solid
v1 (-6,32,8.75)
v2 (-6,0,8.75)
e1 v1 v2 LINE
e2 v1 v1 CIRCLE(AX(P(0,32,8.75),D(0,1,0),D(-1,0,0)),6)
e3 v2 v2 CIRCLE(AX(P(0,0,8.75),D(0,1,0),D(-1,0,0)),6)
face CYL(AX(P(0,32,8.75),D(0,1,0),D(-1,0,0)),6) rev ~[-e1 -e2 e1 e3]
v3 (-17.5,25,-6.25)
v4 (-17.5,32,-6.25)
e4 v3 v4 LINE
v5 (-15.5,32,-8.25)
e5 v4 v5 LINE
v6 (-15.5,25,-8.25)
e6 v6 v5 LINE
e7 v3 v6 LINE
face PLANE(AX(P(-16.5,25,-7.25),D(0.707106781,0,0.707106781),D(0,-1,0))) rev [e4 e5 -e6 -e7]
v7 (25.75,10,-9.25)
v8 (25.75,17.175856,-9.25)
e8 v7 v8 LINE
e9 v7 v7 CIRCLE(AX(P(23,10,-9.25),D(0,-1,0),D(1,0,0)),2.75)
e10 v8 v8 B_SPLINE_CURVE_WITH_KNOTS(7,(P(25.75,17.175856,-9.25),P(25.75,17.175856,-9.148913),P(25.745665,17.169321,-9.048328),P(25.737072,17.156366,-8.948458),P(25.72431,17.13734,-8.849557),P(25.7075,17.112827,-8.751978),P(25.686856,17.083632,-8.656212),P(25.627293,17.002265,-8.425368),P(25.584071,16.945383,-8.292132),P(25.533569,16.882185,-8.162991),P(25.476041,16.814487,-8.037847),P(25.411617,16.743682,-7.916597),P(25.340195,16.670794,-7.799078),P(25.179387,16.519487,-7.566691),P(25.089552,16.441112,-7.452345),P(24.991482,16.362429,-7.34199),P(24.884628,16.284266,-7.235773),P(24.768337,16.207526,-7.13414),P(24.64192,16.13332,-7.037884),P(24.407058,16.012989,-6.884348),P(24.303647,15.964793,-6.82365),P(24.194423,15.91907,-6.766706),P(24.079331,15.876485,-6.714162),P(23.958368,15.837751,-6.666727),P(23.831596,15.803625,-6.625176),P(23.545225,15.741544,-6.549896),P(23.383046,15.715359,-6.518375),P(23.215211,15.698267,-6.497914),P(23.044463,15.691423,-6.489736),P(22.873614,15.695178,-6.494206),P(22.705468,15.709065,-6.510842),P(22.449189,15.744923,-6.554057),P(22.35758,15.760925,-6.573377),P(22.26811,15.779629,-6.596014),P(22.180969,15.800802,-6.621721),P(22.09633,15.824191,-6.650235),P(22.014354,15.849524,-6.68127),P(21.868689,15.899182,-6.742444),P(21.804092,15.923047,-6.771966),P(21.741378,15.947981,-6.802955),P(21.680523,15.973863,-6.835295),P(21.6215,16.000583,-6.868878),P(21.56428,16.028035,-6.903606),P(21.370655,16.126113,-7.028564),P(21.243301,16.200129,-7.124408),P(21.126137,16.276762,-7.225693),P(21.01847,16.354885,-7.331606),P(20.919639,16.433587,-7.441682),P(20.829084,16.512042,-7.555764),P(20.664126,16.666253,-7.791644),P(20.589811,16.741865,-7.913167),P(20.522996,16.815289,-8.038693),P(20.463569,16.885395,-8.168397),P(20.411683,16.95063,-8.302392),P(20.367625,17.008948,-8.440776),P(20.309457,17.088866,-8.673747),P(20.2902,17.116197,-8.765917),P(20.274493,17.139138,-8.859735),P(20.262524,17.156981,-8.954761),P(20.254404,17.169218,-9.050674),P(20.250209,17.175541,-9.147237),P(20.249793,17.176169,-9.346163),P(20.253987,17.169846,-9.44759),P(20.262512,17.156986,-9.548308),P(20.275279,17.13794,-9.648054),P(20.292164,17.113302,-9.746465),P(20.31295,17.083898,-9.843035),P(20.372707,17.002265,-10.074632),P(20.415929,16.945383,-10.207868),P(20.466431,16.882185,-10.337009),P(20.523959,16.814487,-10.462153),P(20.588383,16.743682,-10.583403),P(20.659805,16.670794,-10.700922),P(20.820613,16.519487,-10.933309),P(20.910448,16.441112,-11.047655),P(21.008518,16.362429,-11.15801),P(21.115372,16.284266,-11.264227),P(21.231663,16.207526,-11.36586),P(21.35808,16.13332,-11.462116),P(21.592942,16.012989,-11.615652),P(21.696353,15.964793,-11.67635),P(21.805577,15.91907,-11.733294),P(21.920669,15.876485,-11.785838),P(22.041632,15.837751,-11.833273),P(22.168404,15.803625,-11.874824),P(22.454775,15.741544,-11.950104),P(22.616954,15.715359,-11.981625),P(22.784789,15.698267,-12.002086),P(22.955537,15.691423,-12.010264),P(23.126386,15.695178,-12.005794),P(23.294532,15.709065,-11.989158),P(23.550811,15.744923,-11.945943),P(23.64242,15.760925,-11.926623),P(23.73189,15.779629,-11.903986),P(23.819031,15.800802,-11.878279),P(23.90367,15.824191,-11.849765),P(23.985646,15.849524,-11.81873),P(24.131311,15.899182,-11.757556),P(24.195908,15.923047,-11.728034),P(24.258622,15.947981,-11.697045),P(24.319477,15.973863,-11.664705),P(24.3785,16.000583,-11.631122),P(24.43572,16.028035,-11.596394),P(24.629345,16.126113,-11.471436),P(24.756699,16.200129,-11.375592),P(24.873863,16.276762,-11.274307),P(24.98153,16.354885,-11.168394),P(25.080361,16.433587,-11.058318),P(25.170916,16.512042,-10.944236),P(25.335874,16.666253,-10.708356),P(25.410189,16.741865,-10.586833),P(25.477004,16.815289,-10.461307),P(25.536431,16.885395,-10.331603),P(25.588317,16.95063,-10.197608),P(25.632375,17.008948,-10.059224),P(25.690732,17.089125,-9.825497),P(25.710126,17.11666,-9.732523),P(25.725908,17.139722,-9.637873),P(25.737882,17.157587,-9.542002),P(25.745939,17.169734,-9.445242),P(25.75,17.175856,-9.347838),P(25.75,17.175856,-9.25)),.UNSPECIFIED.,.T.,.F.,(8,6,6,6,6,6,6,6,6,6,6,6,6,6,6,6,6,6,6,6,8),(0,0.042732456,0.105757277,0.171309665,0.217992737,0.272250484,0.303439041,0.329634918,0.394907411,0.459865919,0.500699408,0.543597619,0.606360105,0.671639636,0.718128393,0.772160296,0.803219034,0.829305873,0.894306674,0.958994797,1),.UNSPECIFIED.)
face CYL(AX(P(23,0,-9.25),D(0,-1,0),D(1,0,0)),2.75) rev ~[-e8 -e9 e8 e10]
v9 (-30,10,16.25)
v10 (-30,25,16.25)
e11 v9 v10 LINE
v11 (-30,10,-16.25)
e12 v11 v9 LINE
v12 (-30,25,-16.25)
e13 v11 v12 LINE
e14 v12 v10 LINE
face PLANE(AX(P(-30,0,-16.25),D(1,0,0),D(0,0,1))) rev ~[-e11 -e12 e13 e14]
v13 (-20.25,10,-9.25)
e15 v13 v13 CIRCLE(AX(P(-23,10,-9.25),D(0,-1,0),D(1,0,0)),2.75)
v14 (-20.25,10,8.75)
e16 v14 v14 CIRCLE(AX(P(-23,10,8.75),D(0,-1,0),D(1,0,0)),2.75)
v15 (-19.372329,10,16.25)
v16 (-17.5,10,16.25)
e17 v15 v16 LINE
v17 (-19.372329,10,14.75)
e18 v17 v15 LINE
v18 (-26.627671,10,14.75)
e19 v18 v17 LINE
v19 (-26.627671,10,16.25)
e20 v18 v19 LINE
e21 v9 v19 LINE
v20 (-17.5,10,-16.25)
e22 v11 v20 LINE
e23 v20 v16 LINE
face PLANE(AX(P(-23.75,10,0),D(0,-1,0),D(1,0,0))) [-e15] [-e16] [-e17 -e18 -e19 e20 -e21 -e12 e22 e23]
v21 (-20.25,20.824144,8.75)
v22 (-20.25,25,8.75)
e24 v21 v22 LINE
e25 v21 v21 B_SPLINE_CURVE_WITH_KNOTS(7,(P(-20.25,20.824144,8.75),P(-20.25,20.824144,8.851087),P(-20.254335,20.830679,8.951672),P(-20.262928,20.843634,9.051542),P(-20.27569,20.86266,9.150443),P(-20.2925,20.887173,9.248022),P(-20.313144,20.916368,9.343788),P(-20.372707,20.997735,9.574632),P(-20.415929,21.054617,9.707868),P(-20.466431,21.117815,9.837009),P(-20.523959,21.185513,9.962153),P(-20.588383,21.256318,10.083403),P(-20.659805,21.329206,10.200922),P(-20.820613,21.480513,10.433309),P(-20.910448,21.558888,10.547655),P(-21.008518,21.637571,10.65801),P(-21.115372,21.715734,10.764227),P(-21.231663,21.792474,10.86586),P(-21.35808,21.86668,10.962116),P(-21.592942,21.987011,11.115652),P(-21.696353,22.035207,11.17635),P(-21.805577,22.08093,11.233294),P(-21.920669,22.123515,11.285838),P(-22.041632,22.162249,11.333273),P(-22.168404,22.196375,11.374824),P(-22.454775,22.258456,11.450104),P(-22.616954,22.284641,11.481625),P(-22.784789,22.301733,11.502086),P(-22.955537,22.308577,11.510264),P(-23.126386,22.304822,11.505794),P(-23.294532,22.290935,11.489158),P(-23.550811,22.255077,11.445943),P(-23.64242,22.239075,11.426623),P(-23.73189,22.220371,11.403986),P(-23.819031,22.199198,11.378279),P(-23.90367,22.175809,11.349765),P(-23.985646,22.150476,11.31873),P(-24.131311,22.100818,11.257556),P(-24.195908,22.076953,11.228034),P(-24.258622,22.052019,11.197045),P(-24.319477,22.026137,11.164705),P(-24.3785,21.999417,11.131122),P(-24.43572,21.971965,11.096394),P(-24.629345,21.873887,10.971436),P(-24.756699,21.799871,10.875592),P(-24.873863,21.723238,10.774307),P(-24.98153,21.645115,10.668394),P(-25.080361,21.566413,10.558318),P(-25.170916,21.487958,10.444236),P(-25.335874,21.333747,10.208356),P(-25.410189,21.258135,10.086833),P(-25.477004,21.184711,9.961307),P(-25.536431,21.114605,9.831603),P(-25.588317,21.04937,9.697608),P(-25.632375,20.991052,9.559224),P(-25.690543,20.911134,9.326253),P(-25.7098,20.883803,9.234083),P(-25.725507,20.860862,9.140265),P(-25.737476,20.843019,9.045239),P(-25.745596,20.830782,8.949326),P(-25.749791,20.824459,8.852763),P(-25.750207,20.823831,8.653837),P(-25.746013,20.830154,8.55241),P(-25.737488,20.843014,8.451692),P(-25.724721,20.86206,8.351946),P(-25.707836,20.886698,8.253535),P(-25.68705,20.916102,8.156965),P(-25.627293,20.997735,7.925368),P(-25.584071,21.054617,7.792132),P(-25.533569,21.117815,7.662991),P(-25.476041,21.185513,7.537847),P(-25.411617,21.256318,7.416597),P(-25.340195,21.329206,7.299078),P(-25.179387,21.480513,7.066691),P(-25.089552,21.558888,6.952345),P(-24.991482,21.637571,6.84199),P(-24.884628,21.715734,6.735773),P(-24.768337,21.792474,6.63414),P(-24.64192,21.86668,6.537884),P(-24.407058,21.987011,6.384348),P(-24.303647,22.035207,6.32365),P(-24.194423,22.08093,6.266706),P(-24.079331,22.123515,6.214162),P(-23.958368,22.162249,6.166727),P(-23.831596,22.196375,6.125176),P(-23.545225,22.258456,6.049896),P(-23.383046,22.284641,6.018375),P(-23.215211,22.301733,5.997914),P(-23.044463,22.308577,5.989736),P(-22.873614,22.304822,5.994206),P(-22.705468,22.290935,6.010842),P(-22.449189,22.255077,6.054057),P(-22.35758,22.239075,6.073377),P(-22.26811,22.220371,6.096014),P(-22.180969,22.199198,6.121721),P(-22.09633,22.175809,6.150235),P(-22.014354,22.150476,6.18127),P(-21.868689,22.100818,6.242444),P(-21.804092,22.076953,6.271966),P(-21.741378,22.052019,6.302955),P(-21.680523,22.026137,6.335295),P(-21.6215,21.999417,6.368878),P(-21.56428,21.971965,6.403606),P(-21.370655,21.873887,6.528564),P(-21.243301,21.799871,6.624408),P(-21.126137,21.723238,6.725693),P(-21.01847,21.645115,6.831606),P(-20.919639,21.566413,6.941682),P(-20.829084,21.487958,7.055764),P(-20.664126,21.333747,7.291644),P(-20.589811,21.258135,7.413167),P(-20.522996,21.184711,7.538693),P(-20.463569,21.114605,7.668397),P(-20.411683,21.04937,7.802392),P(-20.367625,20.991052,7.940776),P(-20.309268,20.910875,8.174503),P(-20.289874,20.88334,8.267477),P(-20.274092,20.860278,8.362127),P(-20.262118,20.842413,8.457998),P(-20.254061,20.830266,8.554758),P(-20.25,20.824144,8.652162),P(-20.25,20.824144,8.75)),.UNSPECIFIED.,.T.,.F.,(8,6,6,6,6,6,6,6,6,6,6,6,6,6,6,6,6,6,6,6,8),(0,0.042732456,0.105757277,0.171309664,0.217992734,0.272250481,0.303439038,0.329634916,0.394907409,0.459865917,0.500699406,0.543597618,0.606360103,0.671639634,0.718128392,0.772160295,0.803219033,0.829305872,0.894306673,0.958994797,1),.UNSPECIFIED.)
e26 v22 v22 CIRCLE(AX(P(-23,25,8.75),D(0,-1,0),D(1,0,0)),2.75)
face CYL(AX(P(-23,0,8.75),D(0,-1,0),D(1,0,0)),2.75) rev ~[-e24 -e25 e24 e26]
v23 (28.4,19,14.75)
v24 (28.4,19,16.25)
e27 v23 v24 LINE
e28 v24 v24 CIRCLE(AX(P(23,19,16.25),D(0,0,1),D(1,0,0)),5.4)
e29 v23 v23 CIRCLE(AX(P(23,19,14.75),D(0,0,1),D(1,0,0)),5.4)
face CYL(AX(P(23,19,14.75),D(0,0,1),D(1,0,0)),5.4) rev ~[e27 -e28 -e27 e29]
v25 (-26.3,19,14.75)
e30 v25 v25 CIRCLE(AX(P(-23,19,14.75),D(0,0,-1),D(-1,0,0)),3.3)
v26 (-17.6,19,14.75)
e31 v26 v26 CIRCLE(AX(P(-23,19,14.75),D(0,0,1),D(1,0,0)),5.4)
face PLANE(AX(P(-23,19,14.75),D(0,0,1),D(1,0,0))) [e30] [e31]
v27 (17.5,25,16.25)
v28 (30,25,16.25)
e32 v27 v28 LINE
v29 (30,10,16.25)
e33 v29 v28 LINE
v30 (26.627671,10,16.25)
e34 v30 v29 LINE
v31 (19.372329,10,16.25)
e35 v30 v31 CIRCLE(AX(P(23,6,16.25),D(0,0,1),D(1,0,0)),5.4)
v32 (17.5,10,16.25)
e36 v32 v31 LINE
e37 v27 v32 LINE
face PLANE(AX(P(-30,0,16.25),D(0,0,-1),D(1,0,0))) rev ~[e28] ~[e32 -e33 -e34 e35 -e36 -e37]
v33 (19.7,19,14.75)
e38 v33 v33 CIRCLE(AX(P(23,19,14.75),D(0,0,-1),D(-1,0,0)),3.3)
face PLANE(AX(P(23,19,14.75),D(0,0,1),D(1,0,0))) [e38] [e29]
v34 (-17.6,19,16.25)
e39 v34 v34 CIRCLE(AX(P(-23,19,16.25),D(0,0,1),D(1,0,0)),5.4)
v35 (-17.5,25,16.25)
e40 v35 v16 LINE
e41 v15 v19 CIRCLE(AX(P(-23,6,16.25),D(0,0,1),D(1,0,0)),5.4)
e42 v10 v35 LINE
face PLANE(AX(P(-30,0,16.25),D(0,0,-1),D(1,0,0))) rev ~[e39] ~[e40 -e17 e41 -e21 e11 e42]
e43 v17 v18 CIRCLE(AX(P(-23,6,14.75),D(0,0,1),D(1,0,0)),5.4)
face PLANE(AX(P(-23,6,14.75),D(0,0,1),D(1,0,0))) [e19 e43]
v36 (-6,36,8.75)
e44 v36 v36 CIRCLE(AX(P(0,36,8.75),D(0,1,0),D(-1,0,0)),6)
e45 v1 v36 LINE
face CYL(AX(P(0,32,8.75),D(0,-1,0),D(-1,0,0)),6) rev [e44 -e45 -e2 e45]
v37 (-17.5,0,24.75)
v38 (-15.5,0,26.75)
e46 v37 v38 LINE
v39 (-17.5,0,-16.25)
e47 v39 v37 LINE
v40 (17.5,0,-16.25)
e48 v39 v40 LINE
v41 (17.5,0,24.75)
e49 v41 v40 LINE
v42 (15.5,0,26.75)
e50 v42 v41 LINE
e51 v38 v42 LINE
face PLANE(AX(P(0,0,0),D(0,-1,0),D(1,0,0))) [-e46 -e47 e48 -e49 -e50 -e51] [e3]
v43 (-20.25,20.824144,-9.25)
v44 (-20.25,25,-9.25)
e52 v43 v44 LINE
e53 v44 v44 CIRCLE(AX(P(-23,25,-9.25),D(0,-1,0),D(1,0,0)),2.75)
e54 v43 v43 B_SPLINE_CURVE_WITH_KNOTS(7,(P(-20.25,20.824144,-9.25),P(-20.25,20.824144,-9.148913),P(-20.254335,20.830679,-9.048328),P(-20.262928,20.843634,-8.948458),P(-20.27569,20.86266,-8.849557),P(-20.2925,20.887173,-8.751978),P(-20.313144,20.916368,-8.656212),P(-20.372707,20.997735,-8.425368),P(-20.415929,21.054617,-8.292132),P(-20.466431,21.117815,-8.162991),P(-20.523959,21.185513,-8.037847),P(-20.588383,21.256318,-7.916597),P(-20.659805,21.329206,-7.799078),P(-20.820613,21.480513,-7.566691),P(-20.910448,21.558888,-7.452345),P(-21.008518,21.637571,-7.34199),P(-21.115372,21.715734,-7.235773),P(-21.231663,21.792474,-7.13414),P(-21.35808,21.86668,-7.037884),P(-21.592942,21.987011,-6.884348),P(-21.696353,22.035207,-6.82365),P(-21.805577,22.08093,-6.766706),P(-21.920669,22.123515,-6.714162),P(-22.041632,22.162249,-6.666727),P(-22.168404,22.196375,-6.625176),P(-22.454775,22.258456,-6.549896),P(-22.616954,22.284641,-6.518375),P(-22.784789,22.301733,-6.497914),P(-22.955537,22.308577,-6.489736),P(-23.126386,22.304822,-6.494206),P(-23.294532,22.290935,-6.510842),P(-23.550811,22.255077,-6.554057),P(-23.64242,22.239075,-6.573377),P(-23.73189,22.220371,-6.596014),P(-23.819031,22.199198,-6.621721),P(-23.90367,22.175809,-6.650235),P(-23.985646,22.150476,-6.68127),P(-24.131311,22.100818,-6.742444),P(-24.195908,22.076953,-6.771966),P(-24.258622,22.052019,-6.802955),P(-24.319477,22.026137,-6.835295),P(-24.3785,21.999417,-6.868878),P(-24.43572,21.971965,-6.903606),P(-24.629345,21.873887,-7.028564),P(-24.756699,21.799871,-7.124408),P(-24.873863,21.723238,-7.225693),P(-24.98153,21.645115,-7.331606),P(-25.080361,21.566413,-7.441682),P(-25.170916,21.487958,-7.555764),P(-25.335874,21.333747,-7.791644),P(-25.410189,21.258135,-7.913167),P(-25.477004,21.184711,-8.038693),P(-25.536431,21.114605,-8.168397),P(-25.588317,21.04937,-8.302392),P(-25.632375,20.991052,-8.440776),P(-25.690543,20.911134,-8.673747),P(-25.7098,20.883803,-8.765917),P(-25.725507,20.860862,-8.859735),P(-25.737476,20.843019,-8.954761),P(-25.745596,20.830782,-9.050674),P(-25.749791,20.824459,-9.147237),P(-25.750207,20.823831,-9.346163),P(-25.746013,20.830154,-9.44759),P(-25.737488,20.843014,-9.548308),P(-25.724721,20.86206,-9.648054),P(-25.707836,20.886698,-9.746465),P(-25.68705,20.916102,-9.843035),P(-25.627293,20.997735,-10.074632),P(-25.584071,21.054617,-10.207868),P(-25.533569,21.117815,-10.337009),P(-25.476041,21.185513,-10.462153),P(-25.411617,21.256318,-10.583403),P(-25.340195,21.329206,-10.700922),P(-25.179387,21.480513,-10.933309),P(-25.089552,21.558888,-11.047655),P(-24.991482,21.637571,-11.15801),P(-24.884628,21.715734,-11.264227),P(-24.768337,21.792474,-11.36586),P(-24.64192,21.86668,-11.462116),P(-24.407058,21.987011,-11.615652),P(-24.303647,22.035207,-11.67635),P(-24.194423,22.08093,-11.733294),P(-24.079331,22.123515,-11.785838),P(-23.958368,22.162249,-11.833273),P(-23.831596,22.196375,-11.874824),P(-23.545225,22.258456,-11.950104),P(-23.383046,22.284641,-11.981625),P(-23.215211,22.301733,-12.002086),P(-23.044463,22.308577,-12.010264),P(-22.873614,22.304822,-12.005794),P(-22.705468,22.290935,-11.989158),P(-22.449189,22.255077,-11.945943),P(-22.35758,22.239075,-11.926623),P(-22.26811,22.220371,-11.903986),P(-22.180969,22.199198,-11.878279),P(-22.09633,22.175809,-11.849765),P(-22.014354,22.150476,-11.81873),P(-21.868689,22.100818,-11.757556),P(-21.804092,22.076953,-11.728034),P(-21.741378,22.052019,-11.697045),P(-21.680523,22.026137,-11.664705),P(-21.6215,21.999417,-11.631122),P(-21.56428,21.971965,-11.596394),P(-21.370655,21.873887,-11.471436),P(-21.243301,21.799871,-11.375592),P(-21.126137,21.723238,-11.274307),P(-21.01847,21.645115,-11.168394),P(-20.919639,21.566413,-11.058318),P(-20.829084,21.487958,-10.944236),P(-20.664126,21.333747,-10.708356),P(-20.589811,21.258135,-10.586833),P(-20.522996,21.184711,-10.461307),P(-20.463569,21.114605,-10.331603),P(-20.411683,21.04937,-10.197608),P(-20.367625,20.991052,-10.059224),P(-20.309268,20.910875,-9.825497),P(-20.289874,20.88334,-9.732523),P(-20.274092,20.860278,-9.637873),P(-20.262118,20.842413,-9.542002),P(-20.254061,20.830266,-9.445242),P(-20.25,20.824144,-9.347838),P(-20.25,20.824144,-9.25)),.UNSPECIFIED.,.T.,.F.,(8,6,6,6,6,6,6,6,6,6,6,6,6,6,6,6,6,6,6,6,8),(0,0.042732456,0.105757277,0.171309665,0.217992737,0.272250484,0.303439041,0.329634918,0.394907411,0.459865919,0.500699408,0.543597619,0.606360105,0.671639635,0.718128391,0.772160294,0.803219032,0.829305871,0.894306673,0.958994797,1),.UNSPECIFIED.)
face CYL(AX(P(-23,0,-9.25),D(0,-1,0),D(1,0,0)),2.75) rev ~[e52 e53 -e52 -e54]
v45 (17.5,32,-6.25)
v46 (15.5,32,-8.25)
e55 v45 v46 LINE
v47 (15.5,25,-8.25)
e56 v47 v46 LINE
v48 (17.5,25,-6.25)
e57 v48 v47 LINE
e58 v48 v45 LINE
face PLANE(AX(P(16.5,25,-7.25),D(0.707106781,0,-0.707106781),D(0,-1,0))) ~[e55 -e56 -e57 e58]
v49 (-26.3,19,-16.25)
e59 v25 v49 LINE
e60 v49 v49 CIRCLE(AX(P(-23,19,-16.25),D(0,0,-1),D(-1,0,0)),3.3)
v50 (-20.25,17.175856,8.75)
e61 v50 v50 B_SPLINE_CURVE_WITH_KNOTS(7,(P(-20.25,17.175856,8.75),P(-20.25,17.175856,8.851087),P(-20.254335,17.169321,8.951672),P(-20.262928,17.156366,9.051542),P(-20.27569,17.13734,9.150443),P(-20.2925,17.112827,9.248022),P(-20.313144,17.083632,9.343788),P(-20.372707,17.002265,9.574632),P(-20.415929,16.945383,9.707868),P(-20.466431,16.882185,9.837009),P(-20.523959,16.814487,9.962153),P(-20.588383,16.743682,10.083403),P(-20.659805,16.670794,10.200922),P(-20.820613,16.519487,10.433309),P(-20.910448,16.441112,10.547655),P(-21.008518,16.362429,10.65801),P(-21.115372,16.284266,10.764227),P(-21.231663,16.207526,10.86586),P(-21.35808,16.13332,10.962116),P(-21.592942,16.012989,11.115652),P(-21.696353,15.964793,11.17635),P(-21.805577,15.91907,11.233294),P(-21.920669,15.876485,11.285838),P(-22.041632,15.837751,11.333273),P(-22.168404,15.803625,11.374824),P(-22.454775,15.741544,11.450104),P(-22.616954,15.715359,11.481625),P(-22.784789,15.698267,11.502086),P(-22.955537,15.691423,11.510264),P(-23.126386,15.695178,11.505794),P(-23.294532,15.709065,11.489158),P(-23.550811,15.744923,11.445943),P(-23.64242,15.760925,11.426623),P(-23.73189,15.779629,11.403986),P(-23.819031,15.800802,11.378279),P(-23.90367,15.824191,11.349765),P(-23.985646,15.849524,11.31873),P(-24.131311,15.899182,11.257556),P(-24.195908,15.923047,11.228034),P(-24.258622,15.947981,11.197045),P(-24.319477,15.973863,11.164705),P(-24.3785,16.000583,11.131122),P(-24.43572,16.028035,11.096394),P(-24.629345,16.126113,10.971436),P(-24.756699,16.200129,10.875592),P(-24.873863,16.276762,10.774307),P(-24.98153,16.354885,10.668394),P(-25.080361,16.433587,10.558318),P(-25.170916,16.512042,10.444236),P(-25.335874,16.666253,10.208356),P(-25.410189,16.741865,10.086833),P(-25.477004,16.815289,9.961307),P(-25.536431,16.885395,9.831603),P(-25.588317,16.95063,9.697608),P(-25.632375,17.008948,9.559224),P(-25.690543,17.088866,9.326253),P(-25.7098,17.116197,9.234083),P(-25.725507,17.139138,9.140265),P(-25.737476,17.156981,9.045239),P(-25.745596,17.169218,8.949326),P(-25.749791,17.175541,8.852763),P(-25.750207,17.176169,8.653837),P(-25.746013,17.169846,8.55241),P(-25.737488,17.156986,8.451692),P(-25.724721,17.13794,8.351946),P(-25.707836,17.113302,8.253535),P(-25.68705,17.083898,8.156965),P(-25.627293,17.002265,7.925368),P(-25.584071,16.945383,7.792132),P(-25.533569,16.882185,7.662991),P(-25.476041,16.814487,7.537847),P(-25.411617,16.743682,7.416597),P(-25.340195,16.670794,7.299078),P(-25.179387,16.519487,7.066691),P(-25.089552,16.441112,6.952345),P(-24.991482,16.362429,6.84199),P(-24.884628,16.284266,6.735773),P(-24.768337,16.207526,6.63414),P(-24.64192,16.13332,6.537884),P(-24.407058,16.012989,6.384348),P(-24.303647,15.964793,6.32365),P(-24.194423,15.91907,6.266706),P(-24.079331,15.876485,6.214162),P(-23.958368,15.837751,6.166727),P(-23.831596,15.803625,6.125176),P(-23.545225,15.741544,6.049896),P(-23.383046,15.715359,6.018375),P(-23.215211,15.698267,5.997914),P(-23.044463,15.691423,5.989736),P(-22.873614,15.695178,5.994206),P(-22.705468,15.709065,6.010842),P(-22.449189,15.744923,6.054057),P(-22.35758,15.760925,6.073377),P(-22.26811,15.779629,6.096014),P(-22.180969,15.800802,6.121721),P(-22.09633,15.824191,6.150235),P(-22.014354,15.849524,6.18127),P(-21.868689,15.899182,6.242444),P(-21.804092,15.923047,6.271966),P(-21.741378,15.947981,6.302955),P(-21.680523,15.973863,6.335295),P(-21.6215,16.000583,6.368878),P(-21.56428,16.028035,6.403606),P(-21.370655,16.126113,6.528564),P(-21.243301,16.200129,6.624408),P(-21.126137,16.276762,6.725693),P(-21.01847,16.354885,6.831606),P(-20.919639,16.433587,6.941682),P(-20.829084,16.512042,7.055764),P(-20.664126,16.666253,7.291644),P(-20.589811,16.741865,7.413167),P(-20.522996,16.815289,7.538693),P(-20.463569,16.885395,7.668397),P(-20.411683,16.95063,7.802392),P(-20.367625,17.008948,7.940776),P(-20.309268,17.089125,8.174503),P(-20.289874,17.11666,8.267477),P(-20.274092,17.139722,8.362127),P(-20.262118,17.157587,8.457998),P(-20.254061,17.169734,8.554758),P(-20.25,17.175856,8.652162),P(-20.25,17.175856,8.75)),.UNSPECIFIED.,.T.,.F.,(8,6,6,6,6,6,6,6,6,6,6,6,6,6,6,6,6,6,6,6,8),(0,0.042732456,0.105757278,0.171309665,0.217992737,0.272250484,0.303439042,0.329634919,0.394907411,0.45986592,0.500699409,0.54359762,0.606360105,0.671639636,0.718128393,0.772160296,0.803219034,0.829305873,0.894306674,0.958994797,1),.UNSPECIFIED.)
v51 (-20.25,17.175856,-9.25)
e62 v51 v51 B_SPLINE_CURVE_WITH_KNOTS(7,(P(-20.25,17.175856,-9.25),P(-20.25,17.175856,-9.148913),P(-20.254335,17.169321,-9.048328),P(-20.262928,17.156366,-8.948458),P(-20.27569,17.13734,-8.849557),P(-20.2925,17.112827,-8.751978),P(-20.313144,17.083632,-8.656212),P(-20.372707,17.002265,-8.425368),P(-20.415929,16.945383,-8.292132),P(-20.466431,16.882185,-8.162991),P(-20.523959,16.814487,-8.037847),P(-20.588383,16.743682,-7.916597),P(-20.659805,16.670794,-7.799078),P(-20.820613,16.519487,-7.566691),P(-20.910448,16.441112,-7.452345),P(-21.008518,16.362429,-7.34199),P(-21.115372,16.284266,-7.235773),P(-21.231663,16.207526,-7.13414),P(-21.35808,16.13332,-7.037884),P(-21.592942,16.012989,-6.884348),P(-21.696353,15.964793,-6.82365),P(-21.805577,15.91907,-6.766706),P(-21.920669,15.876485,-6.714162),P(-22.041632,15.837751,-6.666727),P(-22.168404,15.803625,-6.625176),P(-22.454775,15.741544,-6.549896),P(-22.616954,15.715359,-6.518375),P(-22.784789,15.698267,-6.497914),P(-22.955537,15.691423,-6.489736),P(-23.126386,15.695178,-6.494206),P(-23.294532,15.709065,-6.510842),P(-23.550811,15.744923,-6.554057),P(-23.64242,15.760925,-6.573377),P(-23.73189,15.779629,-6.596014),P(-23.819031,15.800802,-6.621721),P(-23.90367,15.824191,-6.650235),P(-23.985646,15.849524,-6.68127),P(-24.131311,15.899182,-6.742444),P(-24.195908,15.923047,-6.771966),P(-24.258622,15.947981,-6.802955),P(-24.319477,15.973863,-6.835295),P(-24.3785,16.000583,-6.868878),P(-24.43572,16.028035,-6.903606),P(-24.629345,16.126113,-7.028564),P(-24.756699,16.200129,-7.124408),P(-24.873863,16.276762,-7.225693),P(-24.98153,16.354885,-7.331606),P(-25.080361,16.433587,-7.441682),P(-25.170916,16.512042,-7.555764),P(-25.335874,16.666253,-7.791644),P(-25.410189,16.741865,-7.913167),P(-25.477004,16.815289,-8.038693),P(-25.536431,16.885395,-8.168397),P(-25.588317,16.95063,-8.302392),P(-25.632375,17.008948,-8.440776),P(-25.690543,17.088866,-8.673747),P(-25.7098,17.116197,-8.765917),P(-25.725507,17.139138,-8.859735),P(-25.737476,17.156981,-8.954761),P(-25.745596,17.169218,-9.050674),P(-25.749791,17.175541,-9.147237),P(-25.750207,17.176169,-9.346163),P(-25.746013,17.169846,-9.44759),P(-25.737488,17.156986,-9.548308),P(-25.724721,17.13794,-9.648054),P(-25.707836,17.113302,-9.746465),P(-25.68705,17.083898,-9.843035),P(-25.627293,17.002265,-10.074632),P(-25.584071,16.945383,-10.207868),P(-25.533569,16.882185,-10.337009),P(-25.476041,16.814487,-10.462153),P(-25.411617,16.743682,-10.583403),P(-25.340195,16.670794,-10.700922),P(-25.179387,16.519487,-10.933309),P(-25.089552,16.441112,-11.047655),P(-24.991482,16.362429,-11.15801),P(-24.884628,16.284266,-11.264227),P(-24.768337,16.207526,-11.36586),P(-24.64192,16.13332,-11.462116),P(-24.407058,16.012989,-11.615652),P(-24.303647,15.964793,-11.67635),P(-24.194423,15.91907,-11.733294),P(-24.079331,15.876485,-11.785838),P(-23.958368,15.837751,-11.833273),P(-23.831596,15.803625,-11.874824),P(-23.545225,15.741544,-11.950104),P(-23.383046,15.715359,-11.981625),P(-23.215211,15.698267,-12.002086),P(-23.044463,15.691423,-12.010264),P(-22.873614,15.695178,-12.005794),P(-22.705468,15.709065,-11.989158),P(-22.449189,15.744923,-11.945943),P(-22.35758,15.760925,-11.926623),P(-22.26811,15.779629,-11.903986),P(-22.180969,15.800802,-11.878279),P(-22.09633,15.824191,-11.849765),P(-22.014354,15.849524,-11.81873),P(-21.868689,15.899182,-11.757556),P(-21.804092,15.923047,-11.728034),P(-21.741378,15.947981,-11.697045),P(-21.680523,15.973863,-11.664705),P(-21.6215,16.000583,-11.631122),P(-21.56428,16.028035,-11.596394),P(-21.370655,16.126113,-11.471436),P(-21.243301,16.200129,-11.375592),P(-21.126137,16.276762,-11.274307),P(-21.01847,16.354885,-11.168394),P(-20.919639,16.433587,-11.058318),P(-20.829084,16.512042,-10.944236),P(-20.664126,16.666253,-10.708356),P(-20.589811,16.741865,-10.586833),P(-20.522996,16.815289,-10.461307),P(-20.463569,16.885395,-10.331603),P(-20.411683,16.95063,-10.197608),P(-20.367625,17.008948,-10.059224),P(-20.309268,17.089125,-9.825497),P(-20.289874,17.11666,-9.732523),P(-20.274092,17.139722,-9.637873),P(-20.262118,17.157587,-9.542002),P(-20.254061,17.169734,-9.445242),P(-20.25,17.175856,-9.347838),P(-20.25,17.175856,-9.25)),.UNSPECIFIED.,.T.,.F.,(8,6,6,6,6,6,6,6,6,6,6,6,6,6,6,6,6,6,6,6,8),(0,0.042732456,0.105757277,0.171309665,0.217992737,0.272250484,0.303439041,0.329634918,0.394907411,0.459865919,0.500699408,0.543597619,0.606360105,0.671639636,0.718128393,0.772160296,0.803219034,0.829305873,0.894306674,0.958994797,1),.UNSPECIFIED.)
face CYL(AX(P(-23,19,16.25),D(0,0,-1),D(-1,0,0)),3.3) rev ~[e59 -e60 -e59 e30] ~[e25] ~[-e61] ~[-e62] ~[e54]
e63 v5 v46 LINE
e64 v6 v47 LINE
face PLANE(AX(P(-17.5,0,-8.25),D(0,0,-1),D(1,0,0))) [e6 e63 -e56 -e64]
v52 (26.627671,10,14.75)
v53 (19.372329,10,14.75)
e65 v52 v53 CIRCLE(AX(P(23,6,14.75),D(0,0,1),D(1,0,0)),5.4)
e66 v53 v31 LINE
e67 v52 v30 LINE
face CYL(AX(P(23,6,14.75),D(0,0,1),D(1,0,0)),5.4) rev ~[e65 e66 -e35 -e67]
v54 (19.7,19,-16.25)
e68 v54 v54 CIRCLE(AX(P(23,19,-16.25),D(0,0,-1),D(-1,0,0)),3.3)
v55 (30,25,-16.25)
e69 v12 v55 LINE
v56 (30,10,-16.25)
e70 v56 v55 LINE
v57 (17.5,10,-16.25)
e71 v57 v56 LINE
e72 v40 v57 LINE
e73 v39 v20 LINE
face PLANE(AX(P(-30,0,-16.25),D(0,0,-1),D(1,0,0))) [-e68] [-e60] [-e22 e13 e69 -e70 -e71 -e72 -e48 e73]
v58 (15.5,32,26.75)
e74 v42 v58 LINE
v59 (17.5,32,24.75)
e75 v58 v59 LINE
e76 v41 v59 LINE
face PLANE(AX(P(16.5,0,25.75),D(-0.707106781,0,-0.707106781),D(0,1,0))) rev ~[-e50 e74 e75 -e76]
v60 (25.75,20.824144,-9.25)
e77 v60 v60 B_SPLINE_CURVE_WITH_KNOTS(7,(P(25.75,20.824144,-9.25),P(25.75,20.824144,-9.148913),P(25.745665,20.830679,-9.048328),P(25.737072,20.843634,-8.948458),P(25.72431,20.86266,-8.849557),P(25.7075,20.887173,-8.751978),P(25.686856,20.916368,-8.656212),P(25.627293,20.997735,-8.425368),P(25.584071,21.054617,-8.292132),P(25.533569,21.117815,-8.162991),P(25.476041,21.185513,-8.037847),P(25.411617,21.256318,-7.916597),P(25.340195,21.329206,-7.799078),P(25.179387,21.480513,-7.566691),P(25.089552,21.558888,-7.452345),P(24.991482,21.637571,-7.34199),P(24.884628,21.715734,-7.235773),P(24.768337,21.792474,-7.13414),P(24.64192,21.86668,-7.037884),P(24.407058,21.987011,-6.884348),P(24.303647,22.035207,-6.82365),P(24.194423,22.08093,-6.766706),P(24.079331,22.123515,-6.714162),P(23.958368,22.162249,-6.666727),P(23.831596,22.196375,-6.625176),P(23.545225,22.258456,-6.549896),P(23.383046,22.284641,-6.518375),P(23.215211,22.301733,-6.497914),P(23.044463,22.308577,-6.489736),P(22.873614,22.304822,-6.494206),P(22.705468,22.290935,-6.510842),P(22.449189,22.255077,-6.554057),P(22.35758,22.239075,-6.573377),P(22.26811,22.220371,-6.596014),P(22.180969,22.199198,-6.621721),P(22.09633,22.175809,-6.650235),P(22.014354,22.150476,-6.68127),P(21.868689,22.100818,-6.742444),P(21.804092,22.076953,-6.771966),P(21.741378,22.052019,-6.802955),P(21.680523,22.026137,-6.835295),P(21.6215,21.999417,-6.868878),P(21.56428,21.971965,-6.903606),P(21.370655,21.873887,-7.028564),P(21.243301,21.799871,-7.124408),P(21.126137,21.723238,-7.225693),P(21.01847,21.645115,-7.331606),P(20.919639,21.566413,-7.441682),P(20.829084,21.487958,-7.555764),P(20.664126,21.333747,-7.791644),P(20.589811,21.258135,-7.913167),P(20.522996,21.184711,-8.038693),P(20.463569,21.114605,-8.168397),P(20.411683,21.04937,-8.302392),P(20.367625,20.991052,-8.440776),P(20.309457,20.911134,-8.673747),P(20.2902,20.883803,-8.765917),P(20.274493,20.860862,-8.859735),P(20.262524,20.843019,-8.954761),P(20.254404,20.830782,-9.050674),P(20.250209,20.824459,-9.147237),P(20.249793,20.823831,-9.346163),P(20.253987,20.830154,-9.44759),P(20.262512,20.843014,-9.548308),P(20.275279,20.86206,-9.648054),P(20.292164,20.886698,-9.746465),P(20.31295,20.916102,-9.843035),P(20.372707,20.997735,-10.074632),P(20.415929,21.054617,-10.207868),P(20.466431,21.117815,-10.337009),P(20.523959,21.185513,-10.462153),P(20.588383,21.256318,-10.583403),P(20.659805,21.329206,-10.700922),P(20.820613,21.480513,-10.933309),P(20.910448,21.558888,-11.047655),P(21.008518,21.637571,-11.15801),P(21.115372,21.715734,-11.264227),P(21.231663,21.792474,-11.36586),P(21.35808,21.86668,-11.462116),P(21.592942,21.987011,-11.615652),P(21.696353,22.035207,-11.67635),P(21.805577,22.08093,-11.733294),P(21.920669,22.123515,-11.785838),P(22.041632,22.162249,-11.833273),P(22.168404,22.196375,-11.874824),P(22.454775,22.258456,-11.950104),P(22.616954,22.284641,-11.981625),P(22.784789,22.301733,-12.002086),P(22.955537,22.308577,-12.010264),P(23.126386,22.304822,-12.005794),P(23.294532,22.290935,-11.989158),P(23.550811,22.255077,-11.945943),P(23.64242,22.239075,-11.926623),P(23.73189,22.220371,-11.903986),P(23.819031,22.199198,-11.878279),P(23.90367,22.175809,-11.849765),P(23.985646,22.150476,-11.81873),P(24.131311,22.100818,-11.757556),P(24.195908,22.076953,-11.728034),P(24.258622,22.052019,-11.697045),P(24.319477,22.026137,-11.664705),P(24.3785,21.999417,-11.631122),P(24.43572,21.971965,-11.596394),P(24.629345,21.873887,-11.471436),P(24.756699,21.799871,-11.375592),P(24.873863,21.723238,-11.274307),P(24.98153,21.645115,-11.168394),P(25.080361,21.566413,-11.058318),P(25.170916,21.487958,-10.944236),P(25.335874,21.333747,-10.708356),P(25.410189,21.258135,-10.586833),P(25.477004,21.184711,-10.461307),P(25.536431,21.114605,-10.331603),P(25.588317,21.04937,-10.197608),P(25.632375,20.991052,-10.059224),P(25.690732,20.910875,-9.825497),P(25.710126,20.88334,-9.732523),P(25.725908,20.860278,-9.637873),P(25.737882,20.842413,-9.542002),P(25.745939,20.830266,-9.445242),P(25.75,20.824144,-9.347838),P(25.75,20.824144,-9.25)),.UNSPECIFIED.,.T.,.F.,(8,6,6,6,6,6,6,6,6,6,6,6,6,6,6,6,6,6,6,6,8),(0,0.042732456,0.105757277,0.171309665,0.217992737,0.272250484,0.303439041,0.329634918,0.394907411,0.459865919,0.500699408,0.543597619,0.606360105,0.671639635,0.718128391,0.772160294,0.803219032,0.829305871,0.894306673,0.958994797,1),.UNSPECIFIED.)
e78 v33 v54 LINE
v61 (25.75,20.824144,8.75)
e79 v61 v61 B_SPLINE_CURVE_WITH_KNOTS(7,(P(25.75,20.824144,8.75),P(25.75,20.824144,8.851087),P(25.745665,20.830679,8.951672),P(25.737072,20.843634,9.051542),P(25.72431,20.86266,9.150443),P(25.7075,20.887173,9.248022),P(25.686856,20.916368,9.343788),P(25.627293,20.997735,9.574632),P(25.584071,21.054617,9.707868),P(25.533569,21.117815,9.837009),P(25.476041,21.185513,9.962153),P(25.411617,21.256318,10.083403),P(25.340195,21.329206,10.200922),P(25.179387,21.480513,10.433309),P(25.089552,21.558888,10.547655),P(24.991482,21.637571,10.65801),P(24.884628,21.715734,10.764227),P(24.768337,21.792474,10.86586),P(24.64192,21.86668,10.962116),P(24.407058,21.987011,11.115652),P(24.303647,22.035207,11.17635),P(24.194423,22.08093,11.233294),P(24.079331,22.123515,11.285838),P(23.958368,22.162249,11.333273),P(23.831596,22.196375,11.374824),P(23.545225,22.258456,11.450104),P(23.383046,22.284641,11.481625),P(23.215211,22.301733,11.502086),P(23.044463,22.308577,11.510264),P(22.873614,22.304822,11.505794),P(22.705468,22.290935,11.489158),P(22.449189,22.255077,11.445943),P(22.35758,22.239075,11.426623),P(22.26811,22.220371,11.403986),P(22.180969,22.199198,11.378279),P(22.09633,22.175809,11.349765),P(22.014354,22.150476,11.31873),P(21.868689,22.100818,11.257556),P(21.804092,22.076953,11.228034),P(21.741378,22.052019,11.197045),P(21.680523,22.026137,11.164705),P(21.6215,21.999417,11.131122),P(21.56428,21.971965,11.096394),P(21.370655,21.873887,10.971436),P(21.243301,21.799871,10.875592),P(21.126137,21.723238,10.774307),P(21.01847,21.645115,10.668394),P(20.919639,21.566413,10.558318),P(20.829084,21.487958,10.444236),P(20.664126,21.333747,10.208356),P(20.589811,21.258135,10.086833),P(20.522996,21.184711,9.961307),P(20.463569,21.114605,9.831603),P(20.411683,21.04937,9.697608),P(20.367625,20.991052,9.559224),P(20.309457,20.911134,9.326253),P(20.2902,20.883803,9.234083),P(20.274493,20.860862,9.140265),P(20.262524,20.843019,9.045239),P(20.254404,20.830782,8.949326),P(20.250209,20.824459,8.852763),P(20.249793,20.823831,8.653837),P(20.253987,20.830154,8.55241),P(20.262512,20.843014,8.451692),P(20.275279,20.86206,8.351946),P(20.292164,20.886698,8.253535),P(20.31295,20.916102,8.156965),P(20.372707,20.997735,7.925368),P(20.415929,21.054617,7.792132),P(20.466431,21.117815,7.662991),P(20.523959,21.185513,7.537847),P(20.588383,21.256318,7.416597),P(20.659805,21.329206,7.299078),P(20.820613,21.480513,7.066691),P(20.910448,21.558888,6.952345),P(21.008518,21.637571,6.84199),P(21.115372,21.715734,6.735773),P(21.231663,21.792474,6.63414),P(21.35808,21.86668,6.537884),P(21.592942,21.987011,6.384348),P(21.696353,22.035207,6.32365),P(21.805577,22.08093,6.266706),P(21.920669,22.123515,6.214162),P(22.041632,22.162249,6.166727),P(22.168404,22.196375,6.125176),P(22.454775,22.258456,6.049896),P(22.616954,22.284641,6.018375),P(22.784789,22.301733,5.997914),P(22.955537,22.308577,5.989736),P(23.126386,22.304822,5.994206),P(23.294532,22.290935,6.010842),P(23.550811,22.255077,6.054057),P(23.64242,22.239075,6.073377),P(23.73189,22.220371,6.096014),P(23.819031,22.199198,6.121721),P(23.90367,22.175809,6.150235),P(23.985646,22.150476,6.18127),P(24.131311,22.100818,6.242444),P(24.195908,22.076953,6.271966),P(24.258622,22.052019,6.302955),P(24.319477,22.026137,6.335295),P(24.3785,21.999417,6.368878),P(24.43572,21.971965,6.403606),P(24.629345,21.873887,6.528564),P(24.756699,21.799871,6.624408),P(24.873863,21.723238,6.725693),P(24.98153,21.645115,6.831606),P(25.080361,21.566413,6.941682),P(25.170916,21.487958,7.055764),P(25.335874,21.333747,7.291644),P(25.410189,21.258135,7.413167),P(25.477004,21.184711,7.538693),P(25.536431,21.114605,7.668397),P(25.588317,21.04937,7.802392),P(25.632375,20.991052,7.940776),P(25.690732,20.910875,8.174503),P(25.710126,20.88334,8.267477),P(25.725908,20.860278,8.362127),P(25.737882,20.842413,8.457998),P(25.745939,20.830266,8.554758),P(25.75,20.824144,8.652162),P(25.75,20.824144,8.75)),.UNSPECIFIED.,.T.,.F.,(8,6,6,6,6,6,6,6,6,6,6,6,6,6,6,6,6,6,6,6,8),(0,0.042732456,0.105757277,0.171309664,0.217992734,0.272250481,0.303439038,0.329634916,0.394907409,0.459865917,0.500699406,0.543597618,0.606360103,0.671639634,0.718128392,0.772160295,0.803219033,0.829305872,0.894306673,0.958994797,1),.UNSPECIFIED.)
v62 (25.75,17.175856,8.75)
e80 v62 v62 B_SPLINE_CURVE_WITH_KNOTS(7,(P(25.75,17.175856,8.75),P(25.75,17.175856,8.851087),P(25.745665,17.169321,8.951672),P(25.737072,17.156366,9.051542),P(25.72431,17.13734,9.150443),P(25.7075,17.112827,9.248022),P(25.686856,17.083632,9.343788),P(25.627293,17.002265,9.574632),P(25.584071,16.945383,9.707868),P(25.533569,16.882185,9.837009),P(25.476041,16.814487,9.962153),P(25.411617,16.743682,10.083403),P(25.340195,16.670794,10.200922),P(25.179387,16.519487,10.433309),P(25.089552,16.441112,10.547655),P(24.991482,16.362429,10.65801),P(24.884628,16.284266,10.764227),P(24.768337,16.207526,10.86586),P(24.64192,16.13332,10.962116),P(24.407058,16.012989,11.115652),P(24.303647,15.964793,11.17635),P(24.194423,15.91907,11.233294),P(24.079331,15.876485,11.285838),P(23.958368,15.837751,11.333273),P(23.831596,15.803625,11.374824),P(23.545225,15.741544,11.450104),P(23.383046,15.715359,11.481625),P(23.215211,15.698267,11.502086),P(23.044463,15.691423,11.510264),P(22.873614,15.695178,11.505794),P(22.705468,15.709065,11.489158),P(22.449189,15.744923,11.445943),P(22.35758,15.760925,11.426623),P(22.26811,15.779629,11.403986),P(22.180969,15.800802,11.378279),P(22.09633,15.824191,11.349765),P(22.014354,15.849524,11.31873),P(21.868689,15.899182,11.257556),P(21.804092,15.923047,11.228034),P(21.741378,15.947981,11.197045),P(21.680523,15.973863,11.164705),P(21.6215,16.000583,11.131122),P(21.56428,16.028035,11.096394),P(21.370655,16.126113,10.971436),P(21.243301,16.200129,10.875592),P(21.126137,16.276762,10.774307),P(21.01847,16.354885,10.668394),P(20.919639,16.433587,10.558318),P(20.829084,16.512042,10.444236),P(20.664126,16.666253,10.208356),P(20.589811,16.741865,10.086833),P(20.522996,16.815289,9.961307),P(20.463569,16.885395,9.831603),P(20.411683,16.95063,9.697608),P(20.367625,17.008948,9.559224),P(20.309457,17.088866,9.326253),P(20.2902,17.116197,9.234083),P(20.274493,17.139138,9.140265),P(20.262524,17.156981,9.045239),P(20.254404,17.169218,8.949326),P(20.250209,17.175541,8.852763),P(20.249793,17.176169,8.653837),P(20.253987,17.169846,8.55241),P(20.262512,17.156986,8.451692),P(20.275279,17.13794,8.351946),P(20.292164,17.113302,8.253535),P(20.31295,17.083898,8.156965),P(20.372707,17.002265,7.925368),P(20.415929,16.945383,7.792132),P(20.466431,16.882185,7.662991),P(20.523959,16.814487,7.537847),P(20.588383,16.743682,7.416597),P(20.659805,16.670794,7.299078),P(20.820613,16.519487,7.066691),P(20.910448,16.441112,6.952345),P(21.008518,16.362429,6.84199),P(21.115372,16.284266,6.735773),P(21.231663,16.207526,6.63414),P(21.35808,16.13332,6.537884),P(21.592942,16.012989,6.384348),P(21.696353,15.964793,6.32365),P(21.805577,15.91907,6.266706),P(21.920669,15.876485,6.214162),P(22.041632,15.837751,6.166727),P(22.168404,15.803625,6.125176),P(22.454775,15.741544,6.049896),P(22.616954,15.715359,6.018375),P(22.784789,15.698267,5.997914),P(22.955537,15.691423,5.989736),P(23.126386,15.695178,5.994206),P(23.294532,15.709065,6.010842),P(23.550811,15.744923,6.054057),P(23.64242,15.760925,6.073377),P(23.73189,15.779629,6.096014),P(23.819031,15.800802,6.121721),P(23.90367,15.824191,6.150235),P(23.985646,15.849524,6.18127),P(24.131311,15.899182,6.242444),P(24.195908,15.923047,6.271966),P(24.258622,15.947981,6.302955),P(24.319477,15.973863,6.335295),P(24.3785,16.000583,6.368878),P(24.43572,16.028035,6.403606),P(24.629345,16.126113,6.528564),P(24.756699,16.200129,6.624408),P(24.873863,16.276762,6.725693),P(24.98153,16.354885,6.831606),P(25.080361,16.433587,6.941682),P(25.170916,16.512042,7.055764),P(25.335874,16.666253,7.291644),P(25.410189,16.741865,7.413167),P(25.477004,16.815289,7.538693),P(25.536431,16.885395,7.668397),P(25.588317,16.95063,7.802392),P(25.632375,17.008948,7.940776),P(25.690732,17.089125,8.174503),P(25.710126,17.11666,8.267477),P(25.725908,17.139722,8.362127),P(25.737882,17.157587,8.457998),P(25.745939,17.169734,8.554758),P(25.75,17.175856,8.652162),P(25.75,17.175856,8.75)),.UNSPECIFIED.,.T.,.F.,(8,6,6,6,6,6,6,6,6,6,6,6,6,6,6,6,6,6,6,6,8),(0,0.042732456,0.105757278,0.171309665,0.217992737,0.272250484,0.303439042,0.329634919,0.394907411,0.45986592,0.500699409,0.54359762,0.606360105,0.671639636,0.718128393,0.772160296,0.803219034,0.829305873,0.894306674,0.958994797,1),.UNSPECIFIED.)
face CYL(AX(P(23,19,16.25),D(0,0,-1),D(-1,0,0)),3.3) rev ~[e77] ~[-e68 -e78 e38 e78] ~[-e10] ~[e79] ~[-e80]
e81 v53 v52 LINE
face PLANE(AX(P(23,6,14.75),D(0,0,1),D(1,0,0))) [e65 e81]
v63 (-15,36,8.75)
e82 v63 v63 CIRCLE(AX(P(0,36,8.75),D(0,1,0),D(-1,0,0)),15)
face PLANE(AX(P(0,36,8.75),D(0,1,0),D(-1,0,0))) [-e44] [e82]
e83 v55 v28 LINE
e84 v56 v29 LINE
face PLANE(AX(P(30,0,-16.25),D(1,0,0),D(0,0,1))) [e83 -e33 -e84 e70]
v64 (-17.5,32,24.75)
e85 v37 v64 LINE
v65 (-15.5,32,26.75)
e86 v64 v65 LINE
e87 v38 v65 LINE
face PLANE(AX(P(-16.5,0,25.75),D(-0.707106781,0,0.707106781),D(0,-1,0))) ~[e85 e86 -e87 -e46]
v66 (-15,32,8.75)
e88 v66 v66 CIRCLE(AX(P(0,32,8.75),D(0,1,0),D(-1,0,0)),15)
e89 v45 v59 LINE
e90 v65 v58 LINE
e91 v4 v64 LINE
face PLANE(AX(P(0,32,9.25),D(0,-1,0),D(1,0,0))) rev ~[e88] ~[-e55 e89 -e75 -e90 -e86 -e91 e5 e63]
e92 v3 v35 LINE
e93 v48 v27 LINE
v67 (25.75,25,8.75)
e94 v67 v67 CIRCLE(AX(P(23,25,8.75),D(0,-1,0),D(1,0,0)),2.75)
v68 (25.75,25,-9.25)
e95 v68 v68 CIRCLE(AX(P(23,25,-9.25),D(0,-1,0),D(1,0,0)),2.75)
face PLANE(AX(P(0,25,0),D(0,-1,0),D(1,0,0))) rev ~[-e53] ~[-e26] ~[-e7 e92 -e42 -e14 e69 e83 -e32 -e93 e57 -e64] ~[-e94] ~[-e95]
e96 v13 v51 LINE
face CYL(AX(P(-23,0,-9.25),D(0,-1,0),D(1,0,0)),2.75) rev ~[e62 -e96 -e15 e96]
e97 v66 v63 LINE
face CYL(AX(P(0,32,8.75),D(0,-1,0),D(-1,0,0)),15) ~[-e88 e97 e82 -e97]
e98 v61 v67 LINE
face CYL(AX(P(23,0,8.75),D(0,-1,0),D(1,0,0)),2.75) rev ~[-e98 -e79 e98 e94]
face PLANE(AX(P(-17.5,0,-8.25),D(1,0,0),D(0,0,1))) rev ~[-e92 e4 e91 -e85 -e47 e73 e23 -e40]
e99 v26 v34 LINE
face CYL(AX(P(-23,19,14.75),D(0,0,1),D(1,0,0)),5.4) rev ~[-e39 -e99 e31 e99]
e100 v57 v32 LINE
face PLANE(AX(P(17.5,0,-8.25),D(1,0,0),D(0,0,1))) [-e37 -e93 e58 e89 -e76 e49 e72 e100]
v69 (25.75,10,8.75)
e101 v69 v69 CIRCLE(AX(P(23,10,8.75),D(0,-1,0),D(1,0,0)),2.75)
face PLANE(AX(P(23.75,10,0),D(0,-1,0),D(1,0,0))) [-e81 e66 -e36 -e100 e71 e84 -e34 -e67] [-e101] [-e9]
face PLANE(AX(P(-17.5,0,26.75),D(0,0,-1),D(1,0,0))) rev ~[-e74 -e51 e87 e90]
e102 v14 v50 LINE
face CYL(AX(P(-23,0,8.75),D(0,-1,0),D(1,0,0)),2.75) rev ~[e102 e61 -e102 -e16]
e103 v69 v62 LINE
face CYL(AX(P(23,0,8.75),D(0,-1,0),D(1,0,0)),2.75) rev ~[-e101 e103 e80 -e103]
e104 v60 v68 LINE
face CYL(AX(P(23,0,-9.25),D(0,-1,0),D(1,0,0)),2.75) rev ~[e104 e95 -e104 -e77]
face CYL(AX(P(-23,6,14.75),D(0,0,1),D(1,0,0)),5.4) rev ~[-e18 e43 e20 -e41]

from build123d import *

# Parameters (mm, degrees)
F10_W          = 60
F10_H          = 32.5
F11_DEPTH      = 25
F0_W           = 35
F0_H           = 35
F12_DEPTH      = 32
F1_R           = 6
F13_DEPTH      = 32.001
F2_SIZE        = 2
F3_R           = 2.75
F14_DEPTH      = 32.001
F4_SIZE        = 2
F6_D           = 6.6
F6_CBORE_D     = 10.8
F6_CBORE_DEPTH = 1.5
F15_R          = 15
F15_R_2        = 6
F7_DEPTH       = 4
F8_W           = 12.5
F8_H           = 32.5
F9_DEPTH       = 10


with BuildPart() as f11:
    # F10 (on Front) → F11 (new body)
    with BuildSketch(Plane.XZ):
        Rectangle(F10_W, F10_H)
    extrude(amount=-F11_DEPTH)

    # F0 (on Front) → F12 (join)
    with BuildSketch(Plane.XZ):
        with Locations((0, 9.25)):
            Rectangle(F0_W, F0_H)
    extrude(amount=-F12_DEPTH)

    # F1 (on face) → F13 (cut, through all)
    with BuildSketch(Plane(origin=(0, 32, 0), x_dir=(-1, 0, 0), z_dir=(0, 1, 0))):
        with Locations((0, 8.75)):
            Circle(F1_R)
    extrude(amount=-F13_DEPTH, mode=Mode.SUBTRACT)

    # F2
    f2_edges = [f11.edges().sort_by_distance(p)[0] for p in [
        (-17.5, 16, 26.75),
        (17.5, 16, 26.75),
    ]]
    chamfer(f2_edges, length=F2_SIZE)

    # F3 (on Front) → F14 (cut, through all)
    with BuildSketch(Plane.XZ):
        with Locations((23, -9.25)):
            Circle(F3_R)
        with Locations((23, 8.75)):
            Circle(F3_R)
        with Locations((-23, 8.75)):
            Circle(F3_R)
        with Locations((-23, -9.25)):
            Circle(F3_R)
    extrude(amount=-F14_DEPTH, mode=Mode.SUBTRACT)

    # F4
    f4_edges = [f11.edges().sort_by_distance(p)[0] for p in [
        (-17.5, 28.5, -8.25),
        (17.5, 28.5, -8.25),
    ]]
    chamfer(f4_edges, length=F4_SIZE)

    # F6 (through all)
    with Locations(Plane.XY.offset(16.25)):
        with Locations((-23, 6), (-23, 19), (23, 6), (23, 19)):
            CounterBoreHole(F6_D / 2, F6_CBORE_D / 2, F6_CBORE_DEPTH)

    # F15 (on face) → F7 (join)
    with BuildSketch(Plane(origin=(0, 32, 0), x_dir=(-1, 0, 0), z_dir=(0, 1, 0))):
        with Locations((0, 8.75)):
            Circle(F15_R)
        with Locations((0, 8.75)):
            Circle(F15_R_2, mode=Mode.SUBTRACT)
    extrude(amount=F7_DEPTH)

    # F8 (on face) → F9 (cut)
    with BuildSketch(Plane.XZ):
        with Locations((-23.75, 0)):
            Rectangle(F8_W, F8_H)
        with Locations((23.75, 0)):
            Rectangle(F8_W, F8_H)
    extrude(amount=-F9_DEPTH, mode=Mode.SUBTRACT)


solid = f11.part
